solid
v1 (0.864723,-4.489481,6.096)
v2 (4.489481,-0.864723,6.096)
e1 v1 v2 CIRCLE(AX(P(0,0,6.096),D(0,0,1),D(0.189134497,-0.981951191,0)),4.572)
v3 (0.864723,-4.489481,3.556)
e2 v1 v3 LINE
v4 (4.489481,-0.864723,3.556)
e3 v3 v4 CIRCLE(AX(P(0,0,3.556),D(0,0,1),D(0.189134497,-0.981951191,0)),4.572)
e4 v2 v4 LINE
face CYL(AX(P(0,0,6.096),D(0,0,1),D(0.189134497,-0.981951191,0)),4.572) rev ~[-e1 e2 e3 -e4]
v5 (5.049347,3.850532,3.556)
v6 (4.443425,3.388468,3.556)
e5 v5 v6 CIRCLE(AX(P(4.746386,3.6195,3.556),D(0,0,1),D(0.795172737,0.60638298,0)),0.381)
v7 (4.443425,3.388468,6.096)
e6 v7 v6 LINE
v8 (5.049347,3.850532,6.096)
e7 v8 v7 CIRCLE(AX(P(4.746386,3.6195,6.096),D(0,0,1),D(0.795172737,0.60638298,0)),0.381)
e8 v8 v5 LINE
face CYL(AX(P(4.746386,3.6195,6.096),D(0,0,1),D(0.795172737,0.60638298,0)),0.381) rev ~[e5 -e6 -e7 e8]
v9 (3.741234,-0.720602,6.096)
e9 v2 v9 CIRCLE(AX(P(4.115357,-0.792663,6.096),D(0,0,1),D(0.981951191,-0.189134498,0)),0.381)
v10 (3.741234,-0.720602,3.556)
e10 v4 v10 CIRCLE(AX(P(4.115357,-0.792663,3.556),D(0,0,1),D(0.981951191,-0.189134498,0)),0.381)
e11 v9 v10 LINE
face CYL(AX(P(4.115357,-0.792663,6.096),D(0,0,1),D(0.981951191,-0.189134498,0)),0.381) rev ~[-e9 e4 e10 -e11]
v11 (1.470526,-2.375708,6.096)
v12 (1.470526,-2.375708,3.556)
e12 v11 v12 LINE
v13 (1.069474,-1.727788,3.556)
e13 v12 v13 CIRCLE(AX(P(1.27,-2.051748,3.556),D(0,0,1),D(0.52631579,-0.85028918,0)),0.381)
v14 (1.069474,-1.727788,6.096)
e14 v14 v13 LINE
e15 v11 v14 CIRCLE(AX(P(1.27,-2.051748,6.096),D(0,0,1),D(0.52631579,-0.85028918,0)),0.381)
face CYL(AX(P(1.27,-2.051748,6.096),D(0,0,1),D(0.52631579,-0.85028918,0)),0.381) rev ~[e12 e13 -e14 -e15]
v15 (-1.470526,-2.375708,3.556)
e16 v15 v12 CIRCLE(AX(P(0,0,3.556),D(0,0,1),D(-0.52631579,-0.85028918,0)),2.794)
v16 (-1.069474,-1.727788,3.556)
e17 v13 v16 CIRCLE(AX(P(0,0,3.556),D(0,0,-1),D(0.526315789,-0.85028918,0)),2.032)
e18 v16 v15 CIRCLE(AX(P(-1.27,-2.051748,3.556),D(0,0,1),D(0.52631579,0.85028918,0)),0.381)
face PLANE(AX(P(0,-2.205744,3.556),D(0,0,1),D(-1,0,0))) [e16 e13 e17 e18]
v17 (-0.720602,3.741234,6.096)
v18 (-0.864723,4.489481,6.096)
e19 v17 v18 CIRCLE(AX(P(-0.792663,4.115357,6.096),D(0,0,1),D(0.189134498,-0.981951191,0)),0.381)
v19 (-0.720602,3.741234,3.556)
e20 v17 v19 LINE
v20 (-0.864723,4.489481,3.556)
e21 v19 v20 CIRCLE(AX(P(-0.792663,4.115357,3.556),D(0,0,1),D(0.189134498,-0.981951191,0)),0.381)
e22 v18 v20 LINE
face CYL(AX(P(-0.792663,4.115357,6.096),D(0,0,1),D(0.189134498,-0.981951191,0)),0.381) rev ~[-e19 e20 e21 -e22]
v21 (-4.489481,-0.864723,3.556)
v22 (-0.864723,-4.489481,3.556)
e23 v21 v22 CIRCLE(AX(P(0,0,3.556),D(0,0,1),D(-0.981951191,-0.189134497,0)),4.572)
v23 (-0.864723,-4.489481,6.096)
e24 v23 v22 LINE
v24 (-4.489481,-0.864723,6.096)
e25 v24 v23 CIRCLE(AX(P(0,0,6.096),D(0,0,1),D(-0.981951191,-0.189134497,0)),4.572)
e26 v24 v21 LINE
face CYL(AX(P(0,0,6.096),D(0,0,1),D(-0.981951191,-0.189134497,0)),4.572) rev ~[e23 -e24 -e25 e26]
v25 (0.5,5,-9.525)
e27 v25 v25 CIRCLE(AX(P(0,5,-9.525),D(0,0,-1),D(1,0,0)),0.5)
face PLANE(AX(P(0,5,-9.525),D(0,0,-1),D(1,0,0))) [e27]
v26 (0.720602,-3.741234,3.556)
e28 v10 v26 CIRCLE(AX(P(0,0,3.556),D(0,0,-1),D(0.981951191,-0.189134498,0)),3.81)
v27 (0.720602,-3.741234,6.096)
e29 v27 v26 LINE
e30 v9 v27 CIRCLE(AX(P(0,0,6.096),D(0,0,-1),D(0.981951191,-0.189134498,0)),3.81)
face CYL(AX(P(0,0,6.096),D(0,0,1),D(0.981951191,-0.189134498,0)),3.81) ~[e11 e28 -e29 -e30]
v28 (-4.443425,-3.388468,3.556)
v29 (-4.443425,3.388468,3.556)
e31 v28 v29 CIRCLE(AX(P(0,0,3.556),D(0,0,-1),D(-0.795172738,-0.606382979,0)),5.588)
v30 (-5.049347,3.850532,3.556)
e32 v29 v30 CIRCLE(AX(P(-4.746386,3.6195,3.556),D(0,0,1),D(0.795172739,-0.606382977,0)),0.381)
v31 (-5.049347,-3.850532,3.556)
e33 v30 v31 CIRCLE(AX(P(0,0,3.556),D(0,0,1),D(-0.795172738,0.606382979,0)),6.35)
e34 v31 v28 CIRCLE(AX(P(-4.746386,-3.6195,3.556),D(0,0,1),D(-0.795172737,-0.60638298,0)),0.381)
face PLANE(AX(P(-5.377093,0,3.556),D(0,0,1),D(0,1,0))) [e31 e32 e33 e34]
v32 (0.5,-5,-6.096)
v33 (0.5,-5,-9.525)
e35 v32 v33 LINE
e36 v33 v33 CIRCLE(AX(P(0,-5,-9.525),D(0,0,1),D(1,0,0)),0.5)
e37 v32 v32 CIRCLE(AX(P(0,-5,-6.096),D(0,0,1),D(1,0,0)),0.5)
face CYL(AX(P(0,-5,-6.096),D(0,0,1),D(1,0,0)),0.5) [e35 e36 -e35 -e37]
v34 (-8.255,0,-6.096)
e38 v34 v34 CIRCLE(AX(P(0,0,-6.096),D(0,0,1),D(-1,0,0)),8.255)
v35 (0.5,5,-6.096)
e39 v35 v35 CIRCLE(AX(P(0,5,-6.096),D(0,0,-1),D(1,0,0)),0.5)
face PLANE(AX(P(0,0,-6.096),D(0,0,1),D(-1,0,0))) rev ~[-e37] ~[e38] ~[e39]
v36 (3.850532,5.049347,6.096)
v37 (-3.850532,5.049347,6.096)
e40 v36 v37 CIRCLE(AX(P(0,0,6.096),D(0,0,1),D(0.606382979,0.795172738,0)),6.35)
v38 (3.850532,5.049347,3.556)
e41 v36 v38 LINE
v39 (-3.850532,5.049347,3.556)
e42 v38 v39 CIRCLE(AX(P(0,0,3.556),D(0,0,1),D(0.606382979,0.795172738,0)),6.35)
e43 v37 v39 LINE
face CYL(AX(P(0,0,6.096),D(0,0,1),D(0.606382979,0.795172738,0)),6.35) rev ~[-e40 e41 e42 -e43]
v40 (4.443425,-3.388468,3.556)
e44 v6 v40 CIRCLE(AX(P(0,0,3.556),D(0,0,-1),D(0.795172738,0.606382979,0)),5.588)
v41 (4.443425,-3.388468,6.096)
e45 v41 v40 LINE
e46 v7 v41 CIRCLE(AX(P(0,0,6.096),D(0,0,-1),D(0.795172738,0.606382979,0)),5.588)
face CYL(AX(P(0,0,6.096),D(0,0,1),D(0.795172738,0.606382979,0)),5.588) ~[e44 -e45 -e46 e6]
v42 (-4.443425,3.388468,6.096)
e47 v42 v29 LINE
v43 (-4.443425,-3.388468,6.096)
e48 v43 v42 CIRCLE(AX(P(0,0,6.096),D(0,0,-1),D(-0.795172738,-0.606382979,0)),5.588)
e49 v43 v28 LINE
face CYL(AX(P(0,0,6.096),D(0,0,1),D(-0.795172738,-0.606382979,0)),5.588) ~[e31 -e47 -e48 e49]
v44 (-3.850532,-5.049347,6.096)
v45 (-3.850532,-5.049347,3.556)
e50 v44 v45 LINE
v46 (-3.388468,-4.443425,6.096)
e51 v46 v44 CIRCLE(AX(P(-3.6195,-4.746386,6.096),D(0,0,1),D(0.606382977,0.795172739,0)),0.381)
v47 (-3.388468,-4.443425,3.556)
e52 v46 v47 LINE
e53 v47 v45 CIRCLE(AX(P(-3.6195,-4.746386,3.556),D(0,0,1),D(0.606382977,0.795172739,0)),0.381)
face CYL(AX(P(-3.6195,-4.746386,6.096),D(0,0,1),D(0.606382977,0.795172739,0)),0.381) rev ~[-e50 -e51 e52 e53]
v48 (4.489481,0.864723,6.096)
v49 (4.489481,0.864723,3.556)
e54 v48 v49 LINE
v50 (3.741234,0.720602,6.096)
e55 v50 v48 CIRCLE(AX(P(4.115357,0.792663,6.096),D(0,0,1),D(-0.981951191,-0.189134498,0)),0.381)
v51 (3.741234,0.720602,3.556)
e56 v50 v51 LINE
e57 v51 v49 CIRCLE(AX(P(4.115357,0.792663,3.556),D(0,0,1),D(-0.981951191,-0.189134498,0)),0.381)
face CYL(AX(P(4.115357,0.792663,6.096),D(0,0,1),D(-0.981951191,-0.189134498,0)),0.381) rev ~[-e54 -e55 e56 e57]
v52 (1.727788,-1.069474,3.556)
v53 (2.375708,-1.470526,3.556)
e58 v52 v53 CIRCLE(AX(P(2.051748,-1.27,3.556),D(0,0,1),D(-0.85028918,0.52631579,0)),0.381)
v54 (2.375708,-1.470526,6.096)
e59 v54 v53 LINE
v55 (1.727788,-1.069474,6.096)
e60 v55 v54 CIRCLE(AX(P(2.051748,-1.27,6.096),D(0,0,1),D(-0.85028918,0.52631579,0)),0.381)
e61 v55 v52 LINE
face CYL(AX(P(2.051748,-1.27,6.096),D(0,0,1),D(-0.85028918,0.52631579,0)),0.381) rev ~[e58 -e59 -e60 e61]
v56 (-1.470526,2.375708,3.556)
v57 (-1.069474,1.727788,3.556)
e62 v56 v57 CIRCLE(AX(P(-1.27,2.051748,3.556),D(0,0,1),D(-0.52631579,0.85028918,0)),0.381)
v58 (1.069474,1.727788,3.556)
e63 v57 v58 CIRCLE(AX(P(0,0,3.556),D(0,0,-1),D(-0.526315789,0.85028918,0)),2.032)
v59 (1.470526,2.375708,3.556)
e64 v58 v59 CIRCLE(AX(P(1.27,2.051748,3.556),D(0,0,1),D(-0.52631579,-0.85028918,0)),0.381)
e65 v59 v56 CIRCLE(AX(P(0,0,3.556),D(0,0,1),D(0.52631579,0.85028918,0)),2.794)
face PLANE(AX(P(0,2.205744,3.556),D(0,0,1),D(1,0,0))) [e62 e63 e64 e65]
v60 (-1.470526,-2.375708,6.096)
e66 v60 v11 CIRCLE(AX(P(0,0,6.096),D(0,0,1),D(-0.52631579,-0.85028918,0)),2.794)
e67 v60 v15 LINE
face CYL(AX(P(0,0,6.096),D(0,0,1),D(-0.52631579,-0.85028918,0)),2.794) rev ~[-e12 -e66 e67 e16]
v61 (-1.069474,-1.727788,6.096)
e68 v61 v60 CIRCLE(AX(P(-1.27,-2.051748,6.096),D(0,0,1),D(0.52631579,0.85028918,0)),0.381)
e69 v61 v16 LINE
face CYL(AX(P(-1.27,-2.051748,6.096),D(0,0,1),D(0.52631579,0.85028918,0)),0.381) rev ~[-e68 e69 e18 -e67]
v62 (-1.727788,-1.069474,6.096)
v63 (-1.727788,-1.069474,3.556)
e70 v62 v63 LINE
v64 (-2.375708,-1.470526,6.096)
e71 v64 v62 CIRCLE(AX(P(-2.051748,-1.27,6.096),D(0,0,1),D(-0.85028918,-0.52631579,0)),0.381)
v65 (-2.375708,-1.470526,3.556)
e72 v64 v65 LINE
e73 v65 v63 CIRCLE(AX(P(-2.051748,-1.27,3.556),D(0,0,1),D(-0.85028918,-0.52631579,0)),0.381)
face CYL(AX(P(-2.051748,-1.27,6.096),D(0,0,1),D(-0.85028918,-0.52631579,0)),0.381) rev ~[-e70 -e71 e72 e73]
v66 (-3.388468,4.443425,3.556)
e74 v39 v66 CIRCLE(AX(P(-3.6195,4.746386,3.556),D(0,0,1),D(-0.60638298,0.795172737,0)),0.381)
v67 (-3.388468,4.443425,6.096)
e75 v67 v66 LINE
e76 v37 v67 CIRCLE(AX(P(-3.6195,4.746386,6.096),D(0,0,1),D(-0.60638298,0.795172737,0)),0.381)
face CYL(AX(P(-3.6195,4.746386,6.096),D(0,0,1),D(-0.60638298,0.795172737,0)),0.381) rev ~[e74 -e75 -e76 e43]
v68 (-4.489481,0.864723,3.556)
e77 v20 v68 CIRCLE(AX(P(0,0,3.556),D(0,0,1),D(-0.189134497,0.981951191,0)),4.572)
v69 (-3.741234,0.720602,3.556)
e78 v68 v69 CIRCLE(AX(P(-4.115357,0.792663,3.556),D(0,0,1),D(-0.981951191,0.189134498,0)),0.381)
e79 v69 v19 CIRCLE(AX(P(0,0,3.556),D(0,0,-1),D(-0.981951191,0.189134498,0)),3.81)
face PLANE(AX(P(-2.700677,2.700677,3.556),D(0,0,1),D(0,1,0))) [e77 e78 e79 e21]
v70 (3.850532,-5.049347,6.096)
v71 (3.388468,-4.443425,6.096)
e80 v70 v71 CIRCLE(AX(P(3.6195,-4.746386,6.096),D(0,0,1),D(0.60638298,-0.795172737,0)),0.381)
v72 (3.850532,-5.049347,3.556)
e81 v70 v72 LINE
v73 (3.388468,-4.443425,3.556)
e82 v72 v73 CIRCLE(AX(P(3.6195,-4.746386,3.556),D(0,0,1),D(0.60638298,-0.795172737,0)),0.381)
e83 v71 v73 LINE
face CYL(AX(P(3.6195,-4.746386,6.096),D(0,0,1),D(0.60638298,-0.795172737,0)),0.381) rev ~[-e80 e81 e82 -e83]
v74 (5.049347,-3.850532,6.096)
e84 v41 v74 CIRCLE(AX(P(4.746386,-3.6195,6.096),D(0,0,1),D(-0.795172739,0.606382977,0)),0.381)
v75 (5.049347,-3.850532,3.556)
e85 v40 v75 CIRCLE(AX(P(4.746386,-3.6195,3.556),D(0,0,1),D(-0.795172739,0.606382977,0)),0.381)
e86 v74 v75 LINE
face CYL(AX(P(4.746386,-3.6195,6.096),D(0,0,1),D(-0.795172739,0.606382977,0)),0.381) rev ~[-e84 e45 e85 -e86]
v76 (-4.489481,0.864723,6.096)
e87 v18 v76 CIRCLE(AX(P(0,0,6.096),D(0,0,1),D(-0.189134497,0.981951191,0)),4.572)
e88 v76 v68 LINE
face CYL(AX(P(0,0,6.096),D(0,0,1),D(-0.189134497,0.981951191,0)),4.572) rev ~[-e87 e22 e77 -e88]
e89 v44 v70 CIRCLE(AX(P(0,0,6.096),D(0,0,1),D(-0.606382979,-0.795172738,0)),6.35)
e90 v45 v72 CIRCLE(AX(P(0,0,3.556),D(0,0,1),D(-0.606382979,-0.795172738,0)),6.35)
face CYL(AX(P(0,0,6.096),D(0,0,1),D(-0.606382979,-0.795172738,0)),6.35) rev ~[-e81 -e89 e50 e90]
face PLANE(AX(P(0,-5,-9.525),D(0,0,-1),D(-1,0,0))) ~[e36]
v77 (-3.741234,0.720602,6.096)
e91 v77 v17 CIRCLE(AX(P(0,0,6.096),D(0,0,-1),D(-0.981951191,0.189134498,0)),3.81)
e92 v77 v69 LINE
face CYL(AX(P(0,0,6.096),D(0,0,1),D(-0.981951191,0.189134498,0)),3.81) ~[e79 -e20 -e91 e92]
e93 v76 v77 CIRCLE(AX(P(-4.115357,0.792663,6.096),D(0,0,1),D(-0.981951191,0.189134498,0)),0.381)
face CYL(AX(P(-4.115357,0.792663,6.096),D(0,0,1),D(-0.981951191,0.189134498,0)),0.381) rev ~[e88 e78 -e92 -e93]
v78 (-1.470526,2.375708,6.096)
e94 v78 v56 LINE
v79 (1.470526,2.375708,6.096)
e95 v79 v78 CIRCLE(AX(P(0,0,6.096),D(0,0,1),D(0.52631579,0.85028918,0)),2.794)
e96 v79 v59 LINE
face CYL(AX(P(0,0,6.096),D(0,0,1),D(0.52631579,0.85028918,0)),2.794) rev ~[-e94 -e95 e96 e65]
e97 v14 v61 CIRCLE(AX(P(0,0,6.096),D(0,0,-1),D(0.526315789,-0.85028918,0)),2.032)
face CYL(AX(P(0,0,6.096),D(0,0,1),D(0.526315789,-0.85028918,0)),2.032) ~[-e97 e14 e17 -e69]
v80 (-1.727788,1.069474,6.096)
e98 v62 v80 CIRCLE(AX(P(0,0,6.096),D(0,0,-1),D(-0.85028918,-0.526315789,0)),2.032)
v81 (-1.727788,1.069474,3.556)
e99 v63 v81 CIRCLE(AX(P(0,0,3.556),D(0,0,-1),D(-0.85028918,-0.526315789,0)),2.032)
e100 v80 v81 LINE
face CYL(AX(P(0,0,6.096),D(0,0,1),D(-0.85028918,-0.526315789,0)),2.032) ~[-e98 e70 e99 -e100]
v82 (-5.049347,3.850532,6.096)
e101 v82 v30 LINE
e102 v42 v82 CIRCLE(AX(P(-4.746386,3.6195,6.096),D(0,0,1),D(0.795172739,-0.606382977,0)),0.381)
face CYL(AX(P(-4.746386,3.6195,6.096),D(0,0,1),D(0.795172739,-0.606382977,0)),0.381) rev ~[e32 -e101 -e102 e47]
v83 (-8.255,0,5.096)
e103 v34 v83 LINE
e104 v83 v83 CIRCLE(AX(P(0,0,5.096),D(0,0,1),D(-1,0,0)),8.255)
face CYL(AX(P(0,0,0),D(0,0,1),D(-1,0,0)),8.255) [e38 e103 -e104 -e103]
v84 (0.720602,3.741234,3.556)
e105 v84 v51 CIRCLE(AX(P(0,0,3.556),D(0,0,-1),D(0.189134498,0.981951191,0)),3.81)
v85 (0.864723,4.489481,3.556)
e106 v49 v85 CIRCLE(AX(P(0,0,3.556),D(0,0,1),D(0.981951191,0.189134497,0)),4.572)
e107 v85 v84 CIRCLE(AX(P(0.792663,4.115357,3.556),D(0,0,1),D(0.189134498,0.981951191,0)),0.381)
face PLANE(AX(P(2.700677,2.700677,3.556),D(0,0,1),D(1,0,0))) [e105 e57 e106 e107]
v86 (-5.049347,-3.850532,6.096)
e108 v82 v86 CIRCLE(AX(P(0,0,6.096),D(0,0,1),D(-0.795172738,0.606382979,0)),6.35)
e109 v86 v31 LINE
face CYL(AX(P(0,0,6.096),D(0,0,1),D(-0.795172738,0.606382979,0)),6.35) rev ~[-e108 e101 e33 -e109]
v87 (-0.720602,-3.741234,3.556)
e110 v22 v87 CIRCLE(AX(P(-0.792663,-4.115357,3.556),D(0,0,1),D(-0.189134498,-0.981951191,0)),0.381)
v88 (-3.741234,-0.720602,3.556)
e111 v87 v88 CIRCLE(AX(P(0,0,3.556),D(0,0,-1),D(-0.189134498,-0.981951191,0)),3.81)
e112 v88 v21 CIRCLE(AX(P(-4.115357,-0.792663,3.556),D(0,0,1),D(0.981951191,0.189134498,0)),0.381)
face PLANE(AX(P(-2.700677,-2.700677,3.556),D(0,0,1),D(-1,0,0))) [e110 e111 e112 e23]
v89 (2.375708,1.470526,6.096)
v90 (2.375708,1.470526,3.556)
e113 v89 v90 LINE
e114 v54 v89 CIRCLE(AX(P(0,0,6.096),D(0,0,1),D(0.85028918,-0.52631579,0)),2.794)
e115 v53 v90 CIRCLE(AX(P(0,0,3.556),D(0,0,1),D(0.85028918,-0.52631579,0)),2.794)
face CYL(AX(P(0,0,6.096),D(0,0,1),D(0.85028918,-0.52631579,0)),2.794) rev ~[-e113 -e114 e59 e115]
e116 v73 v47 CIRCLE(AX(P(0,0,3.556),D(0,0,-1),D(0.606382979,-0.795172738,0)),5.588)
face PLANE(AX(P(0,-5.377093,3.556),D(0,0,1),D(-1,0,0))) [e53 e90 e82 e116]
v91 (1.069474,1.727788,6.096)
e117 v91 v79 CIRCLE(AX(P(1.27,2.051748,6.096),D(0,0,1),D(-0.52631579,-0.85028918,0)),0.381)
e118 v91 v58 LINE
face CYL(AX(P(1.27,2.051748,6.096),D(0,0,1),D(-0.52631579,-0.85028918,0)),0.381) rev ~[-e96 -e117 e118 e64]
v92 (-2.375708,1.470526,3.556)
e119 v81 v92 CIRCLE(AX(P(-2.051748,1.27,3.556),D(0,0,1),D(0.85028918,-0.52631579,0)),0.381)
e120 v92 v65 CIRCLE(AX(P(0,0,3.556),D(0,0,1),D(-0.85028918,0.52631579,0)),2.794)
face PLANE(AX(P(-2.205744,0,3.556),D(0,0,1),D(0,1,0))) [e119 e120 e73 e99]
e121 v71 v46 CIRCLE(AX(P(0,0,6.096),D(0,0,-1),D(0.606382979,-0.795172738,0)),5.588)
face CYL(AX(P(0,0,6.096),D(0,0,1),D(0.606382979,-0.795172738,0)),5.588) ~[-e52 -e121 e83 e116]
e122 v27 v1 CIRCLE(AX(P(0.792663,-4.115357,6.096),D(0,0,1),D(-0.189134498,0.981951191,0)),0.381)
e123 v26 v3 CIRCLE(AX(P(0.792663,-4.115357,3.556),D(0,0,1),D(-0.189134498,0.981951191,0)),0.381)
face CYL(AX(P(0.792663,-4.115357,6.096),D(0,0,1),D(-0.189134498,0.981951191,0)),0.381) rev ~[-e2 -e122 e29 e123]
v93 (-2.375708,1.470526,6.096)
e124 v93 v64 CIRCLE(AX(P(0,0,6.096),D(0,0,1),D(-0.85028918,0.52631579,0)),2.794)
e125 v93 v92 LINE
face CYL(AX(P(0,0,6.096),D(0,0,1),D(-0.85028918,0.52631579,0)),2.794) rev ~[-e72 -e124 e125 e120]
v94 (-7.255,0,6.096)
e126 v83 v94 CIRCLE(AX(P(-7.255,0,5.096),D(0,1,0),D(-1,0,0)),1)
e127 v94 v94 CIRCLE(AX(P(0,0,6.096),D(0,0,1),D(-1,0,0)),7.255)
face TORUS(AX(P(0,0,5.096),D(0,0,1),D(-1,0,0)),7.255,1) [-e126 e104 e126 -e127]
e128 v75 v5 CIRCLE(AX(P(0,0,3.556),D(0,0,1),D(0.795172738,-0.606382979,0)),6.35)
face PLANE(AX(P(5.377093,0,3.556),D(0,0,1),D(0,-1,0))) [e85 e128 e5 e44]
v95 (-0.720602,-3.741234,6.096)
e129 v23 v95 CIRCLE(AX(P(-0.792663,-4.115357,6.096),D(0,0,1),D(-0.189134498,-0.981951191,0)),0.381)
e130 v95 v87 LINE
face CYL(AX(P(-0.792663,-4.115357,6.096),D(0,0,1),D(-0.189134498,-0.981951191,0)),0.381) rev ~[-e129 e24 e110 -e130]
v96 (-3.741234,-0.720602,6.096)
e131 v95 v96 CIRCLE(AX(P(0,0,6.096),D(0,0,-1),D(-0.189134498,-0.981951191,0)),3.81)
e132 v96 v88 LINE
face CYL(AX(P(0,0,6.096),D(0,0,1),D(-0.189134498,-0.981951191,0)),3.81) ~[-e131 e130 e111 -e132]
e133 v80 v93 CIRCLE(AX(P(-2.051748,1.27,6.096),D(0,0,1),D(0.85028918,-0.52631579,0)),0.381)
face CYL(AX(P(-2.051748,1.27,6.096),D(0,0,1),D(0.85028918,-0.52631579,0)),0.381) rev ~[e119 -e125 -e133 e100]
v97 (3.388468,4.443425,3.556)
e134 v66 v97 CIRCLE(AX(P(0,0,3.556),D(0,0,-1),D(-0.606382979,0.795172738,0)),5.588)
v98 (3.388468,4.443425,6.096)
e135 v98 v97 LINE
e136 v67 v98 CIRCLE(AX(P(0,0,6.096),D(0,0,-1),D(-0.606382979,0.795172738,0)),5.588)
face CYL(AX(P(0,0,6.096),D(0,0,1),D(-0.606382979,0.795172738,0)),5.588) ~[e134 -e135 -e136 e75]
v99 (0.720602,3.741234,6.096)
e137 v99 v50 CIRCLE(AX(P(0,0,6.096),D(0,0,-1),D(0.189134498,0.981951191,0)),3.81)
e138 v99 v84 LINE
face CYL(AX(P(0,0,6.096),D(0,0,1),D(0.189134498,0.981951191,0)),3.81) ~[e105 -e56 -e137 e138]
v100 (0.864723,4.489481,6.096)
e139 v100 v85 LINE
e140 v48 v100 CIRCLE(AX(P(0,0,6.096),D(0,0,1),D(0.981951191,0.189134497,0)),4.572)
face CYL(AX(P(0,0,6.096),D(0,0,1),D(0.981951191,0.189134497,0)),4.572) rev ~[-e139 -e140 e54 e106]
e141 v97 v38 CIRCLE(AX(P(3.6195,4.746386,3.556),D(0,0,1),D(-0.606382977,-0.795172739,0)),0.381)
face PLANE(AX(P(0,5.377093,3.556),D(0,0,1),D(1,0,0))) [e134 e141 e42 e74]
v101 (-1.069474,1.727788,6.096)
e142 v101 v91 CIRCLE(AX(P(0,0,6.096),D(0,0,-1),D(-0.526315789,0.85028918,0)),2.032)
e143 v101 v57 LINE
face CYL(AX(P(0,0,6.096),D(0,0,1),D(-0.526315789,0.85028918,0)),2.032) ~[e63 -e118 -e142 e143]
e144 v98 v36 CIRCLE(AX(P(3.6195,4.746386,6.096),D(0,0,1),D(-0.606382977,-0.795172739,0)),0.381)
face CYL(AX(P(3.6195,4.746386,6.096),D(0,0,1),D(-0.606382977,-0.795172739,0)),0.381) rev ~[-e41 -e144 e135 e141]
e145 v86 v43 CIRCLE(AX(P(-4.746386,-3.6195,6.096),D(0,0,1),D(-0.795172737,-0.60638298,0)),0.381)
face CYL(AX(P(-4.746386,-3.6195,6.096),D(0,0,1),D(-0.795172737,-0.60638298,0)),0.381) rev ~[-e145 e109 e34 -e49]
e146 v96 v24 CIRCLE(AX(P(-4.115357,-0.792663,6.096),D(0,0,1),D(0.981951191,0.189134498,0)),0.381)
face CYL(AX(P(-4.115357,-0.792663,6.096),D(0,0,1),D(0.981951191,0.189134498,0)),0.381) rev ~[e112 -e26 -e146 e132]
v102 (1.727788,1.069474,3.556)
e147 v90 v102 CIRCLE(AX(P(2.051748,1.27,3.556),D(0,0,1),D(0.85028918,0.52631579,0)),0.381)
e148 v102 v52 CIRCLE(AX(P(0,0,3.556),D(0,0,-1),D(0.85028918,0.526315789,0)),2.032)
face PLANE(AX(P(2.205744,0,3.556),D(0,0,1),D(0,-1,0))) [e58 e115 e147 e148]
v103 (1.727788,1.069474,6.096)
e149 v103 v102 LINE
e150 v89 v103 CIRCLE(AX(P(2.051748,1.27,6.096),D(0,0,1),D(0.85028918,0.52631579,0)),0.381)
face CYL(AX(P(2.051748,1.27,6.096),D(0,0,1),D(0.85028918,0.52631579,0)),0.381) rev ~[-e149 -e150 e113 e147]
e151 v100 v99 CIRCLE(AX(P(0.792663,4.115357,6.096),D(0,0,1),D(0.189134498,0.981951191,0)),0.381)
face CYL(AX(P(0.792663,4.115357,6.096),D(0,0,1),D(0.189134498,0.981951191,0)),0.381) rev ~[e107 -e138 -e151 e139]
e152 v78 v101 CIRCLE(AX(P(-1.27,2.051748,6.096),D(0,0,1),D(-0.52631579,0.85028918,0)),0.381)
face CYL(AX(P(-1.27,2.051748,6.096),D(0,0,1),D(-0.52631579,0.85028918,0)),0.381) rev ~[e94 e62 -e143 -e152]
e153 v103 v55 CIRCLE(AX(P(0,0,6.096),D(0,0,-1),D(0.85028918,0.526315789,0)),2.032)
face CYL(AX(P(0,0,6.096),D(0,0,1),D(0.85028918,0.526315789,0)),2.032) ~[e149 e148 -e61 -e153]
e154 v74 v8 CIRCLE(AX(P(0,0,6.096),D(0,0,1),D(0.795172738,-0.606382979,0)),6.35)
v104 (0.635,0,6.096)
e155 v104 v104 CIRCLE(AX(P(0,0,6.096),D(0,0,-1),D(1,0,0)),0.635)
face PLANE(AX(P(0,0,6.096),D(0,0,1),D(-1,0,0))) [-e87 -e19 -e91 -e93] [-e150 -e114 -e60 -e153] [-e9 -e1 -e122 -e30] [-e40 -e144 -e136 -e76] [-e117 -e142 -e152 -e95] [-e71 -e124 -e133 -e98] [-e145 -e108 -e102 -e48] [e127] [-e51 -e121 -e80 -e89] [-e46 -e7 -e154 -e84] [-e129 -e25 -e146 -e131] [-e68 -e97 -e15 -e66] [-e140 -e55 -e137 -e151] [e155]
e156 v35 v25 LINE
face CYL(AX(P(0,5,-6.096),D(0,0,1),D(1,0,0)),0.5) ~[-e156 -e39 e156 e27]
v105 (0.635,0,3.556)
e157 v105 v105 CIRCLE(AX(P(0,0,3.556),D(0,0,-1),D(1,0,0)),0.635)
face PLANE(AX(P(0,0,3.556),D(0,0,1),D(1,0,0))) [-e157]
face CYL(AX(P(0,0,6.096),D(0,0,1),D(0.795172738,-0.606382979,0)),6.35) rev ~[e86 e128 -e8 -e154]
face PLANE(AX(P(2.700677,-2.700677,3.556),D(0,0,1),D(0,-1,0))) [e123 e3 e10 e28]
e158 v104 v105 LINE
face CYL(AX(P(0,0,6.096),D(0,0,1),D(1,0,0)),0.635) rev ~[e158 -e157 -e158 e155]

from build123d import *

# Parameters (mm, degrees)
SKETCH1_R          = 8.255
EXTRUDE1_DEPTH     = 6.096
SKETCH2_R          = 0.5
EXTRUDE2_DEPTH     = 3.429
FILLET1_R          = 1
SKETCH3_R          = 0.635
CUT_EXTRUDE1_DEPTH = 2.54
CIRPATTERN1_COUNT  = 4


with BuildPart() as part:
    # Sketch1 → Extrude1 (new, symmetric)
    with BuildSketch(Plane.XY):
        with Locations(Location((0, 0, 0), (0, 0, 180))):
            Circle(SKETCH1_R)
    extrude(amount=EXTRUDE1_DEPTH, both=True)

    # Sketch2 → Extrude2 (add)
    with BuildSketch(Plane(origin=(0, 0, -6.096), x_dir=(-1, 0, 0), z_dir=(0, 0, -1))):
        with Locations(Location((0, 5, 0), (0, 0, 180))):
            Circle(SKETCH2_R)
    extrude2 = extrude(amount=EXTRUDE2_DEPTH)

    # Mirror1: Extrude2 across plane
    add(extrude2.mirror(Plane.ZX))

    # Fillet1
    fillet1_edges = [part.edges().sort_by_distance(p)[0] for p in [
        (8.255, 0, 6.096),
    ]]
    fillet(fillet1_edges, radius=FILLET1_R)

    # Sketch3 → Cut-Extrude1 (cut)
    with BuildSketch(Plane.XY.offset(6.096)):
        Circle(SKETCH3_R)
        with BuildLine():
            ThreePointArc((3.388468085, 4.443425259), (3.922460813, 4.515354158), (3.850531915, 5.049346886))
            ThreePointArc((3.850531915, 5.049346886), (0, 6.35), (-3.850531915, 5.049346886))
            ThreePointArc((-3.850531915, 5.049346886), (-3.922460813, 4.515354158), (-3.388468085, 4.443425259))
            ThreePointArc((-3.388468085, 4.443425259), (0, 5.588), (3.388468085, 4.443425259))
        make_face()
        with BuildLine():
            ThreePointArc((3.741234039, 0.720602434), (4.187417686, 0.418539274), (4.489480846, 0.864722921))
            ThreePointArc((4.489480846, 0.864722921), (3.232892204, 3.232892204), (0.864722921, 4.489480846))
            ThreePointArc((0.864722921, 4.489480846), (0.418539274, 4.187417686), (0.720602434, 3.741234039))
            ThreePointArc((0.720602434, 3.741234039), (2.694076836, 2.694076836), (3.741234039, 0.720602434))
        make_face()
        with BuildLine():
            ThreePointArc((1.069473684, 1.727787614), (1.593960178, 1.851221476), (1.470526316, 2.375707969))
            ThreePointArc((1.470526316, 2.375707969), (0, 2.794), (-1.470526316, 2.375707969))
            ThreePointArc((-1.470526316, 2.375707969), (-1.593960178, 1.851221476), (-1.069473684, 1.727787614))
            ThreePointArc((-1.069473684, 1.727787614), (0, 2.032), (1.069473684, 1.727787614))
        make_face()
    cut_extrude1 = extrude(amount=-CUT_EXTRUDE1_DEPTH, mode=Mode.SUBTRACT)

    # CirPattern1: Cut-Extrude1 ×4 about axis
    cirpattern1_axis = Axis((0, 0, 0), (0, 0, 1))
    for i in range(1, CIRPATTERN1_COUNT):
        add(cut_extrude1.rotate(cirpattern1_axis, i * 360 / CIRPATTERN1_COUNT), mode=Mode.SUBTRACT)


solid = part.part
